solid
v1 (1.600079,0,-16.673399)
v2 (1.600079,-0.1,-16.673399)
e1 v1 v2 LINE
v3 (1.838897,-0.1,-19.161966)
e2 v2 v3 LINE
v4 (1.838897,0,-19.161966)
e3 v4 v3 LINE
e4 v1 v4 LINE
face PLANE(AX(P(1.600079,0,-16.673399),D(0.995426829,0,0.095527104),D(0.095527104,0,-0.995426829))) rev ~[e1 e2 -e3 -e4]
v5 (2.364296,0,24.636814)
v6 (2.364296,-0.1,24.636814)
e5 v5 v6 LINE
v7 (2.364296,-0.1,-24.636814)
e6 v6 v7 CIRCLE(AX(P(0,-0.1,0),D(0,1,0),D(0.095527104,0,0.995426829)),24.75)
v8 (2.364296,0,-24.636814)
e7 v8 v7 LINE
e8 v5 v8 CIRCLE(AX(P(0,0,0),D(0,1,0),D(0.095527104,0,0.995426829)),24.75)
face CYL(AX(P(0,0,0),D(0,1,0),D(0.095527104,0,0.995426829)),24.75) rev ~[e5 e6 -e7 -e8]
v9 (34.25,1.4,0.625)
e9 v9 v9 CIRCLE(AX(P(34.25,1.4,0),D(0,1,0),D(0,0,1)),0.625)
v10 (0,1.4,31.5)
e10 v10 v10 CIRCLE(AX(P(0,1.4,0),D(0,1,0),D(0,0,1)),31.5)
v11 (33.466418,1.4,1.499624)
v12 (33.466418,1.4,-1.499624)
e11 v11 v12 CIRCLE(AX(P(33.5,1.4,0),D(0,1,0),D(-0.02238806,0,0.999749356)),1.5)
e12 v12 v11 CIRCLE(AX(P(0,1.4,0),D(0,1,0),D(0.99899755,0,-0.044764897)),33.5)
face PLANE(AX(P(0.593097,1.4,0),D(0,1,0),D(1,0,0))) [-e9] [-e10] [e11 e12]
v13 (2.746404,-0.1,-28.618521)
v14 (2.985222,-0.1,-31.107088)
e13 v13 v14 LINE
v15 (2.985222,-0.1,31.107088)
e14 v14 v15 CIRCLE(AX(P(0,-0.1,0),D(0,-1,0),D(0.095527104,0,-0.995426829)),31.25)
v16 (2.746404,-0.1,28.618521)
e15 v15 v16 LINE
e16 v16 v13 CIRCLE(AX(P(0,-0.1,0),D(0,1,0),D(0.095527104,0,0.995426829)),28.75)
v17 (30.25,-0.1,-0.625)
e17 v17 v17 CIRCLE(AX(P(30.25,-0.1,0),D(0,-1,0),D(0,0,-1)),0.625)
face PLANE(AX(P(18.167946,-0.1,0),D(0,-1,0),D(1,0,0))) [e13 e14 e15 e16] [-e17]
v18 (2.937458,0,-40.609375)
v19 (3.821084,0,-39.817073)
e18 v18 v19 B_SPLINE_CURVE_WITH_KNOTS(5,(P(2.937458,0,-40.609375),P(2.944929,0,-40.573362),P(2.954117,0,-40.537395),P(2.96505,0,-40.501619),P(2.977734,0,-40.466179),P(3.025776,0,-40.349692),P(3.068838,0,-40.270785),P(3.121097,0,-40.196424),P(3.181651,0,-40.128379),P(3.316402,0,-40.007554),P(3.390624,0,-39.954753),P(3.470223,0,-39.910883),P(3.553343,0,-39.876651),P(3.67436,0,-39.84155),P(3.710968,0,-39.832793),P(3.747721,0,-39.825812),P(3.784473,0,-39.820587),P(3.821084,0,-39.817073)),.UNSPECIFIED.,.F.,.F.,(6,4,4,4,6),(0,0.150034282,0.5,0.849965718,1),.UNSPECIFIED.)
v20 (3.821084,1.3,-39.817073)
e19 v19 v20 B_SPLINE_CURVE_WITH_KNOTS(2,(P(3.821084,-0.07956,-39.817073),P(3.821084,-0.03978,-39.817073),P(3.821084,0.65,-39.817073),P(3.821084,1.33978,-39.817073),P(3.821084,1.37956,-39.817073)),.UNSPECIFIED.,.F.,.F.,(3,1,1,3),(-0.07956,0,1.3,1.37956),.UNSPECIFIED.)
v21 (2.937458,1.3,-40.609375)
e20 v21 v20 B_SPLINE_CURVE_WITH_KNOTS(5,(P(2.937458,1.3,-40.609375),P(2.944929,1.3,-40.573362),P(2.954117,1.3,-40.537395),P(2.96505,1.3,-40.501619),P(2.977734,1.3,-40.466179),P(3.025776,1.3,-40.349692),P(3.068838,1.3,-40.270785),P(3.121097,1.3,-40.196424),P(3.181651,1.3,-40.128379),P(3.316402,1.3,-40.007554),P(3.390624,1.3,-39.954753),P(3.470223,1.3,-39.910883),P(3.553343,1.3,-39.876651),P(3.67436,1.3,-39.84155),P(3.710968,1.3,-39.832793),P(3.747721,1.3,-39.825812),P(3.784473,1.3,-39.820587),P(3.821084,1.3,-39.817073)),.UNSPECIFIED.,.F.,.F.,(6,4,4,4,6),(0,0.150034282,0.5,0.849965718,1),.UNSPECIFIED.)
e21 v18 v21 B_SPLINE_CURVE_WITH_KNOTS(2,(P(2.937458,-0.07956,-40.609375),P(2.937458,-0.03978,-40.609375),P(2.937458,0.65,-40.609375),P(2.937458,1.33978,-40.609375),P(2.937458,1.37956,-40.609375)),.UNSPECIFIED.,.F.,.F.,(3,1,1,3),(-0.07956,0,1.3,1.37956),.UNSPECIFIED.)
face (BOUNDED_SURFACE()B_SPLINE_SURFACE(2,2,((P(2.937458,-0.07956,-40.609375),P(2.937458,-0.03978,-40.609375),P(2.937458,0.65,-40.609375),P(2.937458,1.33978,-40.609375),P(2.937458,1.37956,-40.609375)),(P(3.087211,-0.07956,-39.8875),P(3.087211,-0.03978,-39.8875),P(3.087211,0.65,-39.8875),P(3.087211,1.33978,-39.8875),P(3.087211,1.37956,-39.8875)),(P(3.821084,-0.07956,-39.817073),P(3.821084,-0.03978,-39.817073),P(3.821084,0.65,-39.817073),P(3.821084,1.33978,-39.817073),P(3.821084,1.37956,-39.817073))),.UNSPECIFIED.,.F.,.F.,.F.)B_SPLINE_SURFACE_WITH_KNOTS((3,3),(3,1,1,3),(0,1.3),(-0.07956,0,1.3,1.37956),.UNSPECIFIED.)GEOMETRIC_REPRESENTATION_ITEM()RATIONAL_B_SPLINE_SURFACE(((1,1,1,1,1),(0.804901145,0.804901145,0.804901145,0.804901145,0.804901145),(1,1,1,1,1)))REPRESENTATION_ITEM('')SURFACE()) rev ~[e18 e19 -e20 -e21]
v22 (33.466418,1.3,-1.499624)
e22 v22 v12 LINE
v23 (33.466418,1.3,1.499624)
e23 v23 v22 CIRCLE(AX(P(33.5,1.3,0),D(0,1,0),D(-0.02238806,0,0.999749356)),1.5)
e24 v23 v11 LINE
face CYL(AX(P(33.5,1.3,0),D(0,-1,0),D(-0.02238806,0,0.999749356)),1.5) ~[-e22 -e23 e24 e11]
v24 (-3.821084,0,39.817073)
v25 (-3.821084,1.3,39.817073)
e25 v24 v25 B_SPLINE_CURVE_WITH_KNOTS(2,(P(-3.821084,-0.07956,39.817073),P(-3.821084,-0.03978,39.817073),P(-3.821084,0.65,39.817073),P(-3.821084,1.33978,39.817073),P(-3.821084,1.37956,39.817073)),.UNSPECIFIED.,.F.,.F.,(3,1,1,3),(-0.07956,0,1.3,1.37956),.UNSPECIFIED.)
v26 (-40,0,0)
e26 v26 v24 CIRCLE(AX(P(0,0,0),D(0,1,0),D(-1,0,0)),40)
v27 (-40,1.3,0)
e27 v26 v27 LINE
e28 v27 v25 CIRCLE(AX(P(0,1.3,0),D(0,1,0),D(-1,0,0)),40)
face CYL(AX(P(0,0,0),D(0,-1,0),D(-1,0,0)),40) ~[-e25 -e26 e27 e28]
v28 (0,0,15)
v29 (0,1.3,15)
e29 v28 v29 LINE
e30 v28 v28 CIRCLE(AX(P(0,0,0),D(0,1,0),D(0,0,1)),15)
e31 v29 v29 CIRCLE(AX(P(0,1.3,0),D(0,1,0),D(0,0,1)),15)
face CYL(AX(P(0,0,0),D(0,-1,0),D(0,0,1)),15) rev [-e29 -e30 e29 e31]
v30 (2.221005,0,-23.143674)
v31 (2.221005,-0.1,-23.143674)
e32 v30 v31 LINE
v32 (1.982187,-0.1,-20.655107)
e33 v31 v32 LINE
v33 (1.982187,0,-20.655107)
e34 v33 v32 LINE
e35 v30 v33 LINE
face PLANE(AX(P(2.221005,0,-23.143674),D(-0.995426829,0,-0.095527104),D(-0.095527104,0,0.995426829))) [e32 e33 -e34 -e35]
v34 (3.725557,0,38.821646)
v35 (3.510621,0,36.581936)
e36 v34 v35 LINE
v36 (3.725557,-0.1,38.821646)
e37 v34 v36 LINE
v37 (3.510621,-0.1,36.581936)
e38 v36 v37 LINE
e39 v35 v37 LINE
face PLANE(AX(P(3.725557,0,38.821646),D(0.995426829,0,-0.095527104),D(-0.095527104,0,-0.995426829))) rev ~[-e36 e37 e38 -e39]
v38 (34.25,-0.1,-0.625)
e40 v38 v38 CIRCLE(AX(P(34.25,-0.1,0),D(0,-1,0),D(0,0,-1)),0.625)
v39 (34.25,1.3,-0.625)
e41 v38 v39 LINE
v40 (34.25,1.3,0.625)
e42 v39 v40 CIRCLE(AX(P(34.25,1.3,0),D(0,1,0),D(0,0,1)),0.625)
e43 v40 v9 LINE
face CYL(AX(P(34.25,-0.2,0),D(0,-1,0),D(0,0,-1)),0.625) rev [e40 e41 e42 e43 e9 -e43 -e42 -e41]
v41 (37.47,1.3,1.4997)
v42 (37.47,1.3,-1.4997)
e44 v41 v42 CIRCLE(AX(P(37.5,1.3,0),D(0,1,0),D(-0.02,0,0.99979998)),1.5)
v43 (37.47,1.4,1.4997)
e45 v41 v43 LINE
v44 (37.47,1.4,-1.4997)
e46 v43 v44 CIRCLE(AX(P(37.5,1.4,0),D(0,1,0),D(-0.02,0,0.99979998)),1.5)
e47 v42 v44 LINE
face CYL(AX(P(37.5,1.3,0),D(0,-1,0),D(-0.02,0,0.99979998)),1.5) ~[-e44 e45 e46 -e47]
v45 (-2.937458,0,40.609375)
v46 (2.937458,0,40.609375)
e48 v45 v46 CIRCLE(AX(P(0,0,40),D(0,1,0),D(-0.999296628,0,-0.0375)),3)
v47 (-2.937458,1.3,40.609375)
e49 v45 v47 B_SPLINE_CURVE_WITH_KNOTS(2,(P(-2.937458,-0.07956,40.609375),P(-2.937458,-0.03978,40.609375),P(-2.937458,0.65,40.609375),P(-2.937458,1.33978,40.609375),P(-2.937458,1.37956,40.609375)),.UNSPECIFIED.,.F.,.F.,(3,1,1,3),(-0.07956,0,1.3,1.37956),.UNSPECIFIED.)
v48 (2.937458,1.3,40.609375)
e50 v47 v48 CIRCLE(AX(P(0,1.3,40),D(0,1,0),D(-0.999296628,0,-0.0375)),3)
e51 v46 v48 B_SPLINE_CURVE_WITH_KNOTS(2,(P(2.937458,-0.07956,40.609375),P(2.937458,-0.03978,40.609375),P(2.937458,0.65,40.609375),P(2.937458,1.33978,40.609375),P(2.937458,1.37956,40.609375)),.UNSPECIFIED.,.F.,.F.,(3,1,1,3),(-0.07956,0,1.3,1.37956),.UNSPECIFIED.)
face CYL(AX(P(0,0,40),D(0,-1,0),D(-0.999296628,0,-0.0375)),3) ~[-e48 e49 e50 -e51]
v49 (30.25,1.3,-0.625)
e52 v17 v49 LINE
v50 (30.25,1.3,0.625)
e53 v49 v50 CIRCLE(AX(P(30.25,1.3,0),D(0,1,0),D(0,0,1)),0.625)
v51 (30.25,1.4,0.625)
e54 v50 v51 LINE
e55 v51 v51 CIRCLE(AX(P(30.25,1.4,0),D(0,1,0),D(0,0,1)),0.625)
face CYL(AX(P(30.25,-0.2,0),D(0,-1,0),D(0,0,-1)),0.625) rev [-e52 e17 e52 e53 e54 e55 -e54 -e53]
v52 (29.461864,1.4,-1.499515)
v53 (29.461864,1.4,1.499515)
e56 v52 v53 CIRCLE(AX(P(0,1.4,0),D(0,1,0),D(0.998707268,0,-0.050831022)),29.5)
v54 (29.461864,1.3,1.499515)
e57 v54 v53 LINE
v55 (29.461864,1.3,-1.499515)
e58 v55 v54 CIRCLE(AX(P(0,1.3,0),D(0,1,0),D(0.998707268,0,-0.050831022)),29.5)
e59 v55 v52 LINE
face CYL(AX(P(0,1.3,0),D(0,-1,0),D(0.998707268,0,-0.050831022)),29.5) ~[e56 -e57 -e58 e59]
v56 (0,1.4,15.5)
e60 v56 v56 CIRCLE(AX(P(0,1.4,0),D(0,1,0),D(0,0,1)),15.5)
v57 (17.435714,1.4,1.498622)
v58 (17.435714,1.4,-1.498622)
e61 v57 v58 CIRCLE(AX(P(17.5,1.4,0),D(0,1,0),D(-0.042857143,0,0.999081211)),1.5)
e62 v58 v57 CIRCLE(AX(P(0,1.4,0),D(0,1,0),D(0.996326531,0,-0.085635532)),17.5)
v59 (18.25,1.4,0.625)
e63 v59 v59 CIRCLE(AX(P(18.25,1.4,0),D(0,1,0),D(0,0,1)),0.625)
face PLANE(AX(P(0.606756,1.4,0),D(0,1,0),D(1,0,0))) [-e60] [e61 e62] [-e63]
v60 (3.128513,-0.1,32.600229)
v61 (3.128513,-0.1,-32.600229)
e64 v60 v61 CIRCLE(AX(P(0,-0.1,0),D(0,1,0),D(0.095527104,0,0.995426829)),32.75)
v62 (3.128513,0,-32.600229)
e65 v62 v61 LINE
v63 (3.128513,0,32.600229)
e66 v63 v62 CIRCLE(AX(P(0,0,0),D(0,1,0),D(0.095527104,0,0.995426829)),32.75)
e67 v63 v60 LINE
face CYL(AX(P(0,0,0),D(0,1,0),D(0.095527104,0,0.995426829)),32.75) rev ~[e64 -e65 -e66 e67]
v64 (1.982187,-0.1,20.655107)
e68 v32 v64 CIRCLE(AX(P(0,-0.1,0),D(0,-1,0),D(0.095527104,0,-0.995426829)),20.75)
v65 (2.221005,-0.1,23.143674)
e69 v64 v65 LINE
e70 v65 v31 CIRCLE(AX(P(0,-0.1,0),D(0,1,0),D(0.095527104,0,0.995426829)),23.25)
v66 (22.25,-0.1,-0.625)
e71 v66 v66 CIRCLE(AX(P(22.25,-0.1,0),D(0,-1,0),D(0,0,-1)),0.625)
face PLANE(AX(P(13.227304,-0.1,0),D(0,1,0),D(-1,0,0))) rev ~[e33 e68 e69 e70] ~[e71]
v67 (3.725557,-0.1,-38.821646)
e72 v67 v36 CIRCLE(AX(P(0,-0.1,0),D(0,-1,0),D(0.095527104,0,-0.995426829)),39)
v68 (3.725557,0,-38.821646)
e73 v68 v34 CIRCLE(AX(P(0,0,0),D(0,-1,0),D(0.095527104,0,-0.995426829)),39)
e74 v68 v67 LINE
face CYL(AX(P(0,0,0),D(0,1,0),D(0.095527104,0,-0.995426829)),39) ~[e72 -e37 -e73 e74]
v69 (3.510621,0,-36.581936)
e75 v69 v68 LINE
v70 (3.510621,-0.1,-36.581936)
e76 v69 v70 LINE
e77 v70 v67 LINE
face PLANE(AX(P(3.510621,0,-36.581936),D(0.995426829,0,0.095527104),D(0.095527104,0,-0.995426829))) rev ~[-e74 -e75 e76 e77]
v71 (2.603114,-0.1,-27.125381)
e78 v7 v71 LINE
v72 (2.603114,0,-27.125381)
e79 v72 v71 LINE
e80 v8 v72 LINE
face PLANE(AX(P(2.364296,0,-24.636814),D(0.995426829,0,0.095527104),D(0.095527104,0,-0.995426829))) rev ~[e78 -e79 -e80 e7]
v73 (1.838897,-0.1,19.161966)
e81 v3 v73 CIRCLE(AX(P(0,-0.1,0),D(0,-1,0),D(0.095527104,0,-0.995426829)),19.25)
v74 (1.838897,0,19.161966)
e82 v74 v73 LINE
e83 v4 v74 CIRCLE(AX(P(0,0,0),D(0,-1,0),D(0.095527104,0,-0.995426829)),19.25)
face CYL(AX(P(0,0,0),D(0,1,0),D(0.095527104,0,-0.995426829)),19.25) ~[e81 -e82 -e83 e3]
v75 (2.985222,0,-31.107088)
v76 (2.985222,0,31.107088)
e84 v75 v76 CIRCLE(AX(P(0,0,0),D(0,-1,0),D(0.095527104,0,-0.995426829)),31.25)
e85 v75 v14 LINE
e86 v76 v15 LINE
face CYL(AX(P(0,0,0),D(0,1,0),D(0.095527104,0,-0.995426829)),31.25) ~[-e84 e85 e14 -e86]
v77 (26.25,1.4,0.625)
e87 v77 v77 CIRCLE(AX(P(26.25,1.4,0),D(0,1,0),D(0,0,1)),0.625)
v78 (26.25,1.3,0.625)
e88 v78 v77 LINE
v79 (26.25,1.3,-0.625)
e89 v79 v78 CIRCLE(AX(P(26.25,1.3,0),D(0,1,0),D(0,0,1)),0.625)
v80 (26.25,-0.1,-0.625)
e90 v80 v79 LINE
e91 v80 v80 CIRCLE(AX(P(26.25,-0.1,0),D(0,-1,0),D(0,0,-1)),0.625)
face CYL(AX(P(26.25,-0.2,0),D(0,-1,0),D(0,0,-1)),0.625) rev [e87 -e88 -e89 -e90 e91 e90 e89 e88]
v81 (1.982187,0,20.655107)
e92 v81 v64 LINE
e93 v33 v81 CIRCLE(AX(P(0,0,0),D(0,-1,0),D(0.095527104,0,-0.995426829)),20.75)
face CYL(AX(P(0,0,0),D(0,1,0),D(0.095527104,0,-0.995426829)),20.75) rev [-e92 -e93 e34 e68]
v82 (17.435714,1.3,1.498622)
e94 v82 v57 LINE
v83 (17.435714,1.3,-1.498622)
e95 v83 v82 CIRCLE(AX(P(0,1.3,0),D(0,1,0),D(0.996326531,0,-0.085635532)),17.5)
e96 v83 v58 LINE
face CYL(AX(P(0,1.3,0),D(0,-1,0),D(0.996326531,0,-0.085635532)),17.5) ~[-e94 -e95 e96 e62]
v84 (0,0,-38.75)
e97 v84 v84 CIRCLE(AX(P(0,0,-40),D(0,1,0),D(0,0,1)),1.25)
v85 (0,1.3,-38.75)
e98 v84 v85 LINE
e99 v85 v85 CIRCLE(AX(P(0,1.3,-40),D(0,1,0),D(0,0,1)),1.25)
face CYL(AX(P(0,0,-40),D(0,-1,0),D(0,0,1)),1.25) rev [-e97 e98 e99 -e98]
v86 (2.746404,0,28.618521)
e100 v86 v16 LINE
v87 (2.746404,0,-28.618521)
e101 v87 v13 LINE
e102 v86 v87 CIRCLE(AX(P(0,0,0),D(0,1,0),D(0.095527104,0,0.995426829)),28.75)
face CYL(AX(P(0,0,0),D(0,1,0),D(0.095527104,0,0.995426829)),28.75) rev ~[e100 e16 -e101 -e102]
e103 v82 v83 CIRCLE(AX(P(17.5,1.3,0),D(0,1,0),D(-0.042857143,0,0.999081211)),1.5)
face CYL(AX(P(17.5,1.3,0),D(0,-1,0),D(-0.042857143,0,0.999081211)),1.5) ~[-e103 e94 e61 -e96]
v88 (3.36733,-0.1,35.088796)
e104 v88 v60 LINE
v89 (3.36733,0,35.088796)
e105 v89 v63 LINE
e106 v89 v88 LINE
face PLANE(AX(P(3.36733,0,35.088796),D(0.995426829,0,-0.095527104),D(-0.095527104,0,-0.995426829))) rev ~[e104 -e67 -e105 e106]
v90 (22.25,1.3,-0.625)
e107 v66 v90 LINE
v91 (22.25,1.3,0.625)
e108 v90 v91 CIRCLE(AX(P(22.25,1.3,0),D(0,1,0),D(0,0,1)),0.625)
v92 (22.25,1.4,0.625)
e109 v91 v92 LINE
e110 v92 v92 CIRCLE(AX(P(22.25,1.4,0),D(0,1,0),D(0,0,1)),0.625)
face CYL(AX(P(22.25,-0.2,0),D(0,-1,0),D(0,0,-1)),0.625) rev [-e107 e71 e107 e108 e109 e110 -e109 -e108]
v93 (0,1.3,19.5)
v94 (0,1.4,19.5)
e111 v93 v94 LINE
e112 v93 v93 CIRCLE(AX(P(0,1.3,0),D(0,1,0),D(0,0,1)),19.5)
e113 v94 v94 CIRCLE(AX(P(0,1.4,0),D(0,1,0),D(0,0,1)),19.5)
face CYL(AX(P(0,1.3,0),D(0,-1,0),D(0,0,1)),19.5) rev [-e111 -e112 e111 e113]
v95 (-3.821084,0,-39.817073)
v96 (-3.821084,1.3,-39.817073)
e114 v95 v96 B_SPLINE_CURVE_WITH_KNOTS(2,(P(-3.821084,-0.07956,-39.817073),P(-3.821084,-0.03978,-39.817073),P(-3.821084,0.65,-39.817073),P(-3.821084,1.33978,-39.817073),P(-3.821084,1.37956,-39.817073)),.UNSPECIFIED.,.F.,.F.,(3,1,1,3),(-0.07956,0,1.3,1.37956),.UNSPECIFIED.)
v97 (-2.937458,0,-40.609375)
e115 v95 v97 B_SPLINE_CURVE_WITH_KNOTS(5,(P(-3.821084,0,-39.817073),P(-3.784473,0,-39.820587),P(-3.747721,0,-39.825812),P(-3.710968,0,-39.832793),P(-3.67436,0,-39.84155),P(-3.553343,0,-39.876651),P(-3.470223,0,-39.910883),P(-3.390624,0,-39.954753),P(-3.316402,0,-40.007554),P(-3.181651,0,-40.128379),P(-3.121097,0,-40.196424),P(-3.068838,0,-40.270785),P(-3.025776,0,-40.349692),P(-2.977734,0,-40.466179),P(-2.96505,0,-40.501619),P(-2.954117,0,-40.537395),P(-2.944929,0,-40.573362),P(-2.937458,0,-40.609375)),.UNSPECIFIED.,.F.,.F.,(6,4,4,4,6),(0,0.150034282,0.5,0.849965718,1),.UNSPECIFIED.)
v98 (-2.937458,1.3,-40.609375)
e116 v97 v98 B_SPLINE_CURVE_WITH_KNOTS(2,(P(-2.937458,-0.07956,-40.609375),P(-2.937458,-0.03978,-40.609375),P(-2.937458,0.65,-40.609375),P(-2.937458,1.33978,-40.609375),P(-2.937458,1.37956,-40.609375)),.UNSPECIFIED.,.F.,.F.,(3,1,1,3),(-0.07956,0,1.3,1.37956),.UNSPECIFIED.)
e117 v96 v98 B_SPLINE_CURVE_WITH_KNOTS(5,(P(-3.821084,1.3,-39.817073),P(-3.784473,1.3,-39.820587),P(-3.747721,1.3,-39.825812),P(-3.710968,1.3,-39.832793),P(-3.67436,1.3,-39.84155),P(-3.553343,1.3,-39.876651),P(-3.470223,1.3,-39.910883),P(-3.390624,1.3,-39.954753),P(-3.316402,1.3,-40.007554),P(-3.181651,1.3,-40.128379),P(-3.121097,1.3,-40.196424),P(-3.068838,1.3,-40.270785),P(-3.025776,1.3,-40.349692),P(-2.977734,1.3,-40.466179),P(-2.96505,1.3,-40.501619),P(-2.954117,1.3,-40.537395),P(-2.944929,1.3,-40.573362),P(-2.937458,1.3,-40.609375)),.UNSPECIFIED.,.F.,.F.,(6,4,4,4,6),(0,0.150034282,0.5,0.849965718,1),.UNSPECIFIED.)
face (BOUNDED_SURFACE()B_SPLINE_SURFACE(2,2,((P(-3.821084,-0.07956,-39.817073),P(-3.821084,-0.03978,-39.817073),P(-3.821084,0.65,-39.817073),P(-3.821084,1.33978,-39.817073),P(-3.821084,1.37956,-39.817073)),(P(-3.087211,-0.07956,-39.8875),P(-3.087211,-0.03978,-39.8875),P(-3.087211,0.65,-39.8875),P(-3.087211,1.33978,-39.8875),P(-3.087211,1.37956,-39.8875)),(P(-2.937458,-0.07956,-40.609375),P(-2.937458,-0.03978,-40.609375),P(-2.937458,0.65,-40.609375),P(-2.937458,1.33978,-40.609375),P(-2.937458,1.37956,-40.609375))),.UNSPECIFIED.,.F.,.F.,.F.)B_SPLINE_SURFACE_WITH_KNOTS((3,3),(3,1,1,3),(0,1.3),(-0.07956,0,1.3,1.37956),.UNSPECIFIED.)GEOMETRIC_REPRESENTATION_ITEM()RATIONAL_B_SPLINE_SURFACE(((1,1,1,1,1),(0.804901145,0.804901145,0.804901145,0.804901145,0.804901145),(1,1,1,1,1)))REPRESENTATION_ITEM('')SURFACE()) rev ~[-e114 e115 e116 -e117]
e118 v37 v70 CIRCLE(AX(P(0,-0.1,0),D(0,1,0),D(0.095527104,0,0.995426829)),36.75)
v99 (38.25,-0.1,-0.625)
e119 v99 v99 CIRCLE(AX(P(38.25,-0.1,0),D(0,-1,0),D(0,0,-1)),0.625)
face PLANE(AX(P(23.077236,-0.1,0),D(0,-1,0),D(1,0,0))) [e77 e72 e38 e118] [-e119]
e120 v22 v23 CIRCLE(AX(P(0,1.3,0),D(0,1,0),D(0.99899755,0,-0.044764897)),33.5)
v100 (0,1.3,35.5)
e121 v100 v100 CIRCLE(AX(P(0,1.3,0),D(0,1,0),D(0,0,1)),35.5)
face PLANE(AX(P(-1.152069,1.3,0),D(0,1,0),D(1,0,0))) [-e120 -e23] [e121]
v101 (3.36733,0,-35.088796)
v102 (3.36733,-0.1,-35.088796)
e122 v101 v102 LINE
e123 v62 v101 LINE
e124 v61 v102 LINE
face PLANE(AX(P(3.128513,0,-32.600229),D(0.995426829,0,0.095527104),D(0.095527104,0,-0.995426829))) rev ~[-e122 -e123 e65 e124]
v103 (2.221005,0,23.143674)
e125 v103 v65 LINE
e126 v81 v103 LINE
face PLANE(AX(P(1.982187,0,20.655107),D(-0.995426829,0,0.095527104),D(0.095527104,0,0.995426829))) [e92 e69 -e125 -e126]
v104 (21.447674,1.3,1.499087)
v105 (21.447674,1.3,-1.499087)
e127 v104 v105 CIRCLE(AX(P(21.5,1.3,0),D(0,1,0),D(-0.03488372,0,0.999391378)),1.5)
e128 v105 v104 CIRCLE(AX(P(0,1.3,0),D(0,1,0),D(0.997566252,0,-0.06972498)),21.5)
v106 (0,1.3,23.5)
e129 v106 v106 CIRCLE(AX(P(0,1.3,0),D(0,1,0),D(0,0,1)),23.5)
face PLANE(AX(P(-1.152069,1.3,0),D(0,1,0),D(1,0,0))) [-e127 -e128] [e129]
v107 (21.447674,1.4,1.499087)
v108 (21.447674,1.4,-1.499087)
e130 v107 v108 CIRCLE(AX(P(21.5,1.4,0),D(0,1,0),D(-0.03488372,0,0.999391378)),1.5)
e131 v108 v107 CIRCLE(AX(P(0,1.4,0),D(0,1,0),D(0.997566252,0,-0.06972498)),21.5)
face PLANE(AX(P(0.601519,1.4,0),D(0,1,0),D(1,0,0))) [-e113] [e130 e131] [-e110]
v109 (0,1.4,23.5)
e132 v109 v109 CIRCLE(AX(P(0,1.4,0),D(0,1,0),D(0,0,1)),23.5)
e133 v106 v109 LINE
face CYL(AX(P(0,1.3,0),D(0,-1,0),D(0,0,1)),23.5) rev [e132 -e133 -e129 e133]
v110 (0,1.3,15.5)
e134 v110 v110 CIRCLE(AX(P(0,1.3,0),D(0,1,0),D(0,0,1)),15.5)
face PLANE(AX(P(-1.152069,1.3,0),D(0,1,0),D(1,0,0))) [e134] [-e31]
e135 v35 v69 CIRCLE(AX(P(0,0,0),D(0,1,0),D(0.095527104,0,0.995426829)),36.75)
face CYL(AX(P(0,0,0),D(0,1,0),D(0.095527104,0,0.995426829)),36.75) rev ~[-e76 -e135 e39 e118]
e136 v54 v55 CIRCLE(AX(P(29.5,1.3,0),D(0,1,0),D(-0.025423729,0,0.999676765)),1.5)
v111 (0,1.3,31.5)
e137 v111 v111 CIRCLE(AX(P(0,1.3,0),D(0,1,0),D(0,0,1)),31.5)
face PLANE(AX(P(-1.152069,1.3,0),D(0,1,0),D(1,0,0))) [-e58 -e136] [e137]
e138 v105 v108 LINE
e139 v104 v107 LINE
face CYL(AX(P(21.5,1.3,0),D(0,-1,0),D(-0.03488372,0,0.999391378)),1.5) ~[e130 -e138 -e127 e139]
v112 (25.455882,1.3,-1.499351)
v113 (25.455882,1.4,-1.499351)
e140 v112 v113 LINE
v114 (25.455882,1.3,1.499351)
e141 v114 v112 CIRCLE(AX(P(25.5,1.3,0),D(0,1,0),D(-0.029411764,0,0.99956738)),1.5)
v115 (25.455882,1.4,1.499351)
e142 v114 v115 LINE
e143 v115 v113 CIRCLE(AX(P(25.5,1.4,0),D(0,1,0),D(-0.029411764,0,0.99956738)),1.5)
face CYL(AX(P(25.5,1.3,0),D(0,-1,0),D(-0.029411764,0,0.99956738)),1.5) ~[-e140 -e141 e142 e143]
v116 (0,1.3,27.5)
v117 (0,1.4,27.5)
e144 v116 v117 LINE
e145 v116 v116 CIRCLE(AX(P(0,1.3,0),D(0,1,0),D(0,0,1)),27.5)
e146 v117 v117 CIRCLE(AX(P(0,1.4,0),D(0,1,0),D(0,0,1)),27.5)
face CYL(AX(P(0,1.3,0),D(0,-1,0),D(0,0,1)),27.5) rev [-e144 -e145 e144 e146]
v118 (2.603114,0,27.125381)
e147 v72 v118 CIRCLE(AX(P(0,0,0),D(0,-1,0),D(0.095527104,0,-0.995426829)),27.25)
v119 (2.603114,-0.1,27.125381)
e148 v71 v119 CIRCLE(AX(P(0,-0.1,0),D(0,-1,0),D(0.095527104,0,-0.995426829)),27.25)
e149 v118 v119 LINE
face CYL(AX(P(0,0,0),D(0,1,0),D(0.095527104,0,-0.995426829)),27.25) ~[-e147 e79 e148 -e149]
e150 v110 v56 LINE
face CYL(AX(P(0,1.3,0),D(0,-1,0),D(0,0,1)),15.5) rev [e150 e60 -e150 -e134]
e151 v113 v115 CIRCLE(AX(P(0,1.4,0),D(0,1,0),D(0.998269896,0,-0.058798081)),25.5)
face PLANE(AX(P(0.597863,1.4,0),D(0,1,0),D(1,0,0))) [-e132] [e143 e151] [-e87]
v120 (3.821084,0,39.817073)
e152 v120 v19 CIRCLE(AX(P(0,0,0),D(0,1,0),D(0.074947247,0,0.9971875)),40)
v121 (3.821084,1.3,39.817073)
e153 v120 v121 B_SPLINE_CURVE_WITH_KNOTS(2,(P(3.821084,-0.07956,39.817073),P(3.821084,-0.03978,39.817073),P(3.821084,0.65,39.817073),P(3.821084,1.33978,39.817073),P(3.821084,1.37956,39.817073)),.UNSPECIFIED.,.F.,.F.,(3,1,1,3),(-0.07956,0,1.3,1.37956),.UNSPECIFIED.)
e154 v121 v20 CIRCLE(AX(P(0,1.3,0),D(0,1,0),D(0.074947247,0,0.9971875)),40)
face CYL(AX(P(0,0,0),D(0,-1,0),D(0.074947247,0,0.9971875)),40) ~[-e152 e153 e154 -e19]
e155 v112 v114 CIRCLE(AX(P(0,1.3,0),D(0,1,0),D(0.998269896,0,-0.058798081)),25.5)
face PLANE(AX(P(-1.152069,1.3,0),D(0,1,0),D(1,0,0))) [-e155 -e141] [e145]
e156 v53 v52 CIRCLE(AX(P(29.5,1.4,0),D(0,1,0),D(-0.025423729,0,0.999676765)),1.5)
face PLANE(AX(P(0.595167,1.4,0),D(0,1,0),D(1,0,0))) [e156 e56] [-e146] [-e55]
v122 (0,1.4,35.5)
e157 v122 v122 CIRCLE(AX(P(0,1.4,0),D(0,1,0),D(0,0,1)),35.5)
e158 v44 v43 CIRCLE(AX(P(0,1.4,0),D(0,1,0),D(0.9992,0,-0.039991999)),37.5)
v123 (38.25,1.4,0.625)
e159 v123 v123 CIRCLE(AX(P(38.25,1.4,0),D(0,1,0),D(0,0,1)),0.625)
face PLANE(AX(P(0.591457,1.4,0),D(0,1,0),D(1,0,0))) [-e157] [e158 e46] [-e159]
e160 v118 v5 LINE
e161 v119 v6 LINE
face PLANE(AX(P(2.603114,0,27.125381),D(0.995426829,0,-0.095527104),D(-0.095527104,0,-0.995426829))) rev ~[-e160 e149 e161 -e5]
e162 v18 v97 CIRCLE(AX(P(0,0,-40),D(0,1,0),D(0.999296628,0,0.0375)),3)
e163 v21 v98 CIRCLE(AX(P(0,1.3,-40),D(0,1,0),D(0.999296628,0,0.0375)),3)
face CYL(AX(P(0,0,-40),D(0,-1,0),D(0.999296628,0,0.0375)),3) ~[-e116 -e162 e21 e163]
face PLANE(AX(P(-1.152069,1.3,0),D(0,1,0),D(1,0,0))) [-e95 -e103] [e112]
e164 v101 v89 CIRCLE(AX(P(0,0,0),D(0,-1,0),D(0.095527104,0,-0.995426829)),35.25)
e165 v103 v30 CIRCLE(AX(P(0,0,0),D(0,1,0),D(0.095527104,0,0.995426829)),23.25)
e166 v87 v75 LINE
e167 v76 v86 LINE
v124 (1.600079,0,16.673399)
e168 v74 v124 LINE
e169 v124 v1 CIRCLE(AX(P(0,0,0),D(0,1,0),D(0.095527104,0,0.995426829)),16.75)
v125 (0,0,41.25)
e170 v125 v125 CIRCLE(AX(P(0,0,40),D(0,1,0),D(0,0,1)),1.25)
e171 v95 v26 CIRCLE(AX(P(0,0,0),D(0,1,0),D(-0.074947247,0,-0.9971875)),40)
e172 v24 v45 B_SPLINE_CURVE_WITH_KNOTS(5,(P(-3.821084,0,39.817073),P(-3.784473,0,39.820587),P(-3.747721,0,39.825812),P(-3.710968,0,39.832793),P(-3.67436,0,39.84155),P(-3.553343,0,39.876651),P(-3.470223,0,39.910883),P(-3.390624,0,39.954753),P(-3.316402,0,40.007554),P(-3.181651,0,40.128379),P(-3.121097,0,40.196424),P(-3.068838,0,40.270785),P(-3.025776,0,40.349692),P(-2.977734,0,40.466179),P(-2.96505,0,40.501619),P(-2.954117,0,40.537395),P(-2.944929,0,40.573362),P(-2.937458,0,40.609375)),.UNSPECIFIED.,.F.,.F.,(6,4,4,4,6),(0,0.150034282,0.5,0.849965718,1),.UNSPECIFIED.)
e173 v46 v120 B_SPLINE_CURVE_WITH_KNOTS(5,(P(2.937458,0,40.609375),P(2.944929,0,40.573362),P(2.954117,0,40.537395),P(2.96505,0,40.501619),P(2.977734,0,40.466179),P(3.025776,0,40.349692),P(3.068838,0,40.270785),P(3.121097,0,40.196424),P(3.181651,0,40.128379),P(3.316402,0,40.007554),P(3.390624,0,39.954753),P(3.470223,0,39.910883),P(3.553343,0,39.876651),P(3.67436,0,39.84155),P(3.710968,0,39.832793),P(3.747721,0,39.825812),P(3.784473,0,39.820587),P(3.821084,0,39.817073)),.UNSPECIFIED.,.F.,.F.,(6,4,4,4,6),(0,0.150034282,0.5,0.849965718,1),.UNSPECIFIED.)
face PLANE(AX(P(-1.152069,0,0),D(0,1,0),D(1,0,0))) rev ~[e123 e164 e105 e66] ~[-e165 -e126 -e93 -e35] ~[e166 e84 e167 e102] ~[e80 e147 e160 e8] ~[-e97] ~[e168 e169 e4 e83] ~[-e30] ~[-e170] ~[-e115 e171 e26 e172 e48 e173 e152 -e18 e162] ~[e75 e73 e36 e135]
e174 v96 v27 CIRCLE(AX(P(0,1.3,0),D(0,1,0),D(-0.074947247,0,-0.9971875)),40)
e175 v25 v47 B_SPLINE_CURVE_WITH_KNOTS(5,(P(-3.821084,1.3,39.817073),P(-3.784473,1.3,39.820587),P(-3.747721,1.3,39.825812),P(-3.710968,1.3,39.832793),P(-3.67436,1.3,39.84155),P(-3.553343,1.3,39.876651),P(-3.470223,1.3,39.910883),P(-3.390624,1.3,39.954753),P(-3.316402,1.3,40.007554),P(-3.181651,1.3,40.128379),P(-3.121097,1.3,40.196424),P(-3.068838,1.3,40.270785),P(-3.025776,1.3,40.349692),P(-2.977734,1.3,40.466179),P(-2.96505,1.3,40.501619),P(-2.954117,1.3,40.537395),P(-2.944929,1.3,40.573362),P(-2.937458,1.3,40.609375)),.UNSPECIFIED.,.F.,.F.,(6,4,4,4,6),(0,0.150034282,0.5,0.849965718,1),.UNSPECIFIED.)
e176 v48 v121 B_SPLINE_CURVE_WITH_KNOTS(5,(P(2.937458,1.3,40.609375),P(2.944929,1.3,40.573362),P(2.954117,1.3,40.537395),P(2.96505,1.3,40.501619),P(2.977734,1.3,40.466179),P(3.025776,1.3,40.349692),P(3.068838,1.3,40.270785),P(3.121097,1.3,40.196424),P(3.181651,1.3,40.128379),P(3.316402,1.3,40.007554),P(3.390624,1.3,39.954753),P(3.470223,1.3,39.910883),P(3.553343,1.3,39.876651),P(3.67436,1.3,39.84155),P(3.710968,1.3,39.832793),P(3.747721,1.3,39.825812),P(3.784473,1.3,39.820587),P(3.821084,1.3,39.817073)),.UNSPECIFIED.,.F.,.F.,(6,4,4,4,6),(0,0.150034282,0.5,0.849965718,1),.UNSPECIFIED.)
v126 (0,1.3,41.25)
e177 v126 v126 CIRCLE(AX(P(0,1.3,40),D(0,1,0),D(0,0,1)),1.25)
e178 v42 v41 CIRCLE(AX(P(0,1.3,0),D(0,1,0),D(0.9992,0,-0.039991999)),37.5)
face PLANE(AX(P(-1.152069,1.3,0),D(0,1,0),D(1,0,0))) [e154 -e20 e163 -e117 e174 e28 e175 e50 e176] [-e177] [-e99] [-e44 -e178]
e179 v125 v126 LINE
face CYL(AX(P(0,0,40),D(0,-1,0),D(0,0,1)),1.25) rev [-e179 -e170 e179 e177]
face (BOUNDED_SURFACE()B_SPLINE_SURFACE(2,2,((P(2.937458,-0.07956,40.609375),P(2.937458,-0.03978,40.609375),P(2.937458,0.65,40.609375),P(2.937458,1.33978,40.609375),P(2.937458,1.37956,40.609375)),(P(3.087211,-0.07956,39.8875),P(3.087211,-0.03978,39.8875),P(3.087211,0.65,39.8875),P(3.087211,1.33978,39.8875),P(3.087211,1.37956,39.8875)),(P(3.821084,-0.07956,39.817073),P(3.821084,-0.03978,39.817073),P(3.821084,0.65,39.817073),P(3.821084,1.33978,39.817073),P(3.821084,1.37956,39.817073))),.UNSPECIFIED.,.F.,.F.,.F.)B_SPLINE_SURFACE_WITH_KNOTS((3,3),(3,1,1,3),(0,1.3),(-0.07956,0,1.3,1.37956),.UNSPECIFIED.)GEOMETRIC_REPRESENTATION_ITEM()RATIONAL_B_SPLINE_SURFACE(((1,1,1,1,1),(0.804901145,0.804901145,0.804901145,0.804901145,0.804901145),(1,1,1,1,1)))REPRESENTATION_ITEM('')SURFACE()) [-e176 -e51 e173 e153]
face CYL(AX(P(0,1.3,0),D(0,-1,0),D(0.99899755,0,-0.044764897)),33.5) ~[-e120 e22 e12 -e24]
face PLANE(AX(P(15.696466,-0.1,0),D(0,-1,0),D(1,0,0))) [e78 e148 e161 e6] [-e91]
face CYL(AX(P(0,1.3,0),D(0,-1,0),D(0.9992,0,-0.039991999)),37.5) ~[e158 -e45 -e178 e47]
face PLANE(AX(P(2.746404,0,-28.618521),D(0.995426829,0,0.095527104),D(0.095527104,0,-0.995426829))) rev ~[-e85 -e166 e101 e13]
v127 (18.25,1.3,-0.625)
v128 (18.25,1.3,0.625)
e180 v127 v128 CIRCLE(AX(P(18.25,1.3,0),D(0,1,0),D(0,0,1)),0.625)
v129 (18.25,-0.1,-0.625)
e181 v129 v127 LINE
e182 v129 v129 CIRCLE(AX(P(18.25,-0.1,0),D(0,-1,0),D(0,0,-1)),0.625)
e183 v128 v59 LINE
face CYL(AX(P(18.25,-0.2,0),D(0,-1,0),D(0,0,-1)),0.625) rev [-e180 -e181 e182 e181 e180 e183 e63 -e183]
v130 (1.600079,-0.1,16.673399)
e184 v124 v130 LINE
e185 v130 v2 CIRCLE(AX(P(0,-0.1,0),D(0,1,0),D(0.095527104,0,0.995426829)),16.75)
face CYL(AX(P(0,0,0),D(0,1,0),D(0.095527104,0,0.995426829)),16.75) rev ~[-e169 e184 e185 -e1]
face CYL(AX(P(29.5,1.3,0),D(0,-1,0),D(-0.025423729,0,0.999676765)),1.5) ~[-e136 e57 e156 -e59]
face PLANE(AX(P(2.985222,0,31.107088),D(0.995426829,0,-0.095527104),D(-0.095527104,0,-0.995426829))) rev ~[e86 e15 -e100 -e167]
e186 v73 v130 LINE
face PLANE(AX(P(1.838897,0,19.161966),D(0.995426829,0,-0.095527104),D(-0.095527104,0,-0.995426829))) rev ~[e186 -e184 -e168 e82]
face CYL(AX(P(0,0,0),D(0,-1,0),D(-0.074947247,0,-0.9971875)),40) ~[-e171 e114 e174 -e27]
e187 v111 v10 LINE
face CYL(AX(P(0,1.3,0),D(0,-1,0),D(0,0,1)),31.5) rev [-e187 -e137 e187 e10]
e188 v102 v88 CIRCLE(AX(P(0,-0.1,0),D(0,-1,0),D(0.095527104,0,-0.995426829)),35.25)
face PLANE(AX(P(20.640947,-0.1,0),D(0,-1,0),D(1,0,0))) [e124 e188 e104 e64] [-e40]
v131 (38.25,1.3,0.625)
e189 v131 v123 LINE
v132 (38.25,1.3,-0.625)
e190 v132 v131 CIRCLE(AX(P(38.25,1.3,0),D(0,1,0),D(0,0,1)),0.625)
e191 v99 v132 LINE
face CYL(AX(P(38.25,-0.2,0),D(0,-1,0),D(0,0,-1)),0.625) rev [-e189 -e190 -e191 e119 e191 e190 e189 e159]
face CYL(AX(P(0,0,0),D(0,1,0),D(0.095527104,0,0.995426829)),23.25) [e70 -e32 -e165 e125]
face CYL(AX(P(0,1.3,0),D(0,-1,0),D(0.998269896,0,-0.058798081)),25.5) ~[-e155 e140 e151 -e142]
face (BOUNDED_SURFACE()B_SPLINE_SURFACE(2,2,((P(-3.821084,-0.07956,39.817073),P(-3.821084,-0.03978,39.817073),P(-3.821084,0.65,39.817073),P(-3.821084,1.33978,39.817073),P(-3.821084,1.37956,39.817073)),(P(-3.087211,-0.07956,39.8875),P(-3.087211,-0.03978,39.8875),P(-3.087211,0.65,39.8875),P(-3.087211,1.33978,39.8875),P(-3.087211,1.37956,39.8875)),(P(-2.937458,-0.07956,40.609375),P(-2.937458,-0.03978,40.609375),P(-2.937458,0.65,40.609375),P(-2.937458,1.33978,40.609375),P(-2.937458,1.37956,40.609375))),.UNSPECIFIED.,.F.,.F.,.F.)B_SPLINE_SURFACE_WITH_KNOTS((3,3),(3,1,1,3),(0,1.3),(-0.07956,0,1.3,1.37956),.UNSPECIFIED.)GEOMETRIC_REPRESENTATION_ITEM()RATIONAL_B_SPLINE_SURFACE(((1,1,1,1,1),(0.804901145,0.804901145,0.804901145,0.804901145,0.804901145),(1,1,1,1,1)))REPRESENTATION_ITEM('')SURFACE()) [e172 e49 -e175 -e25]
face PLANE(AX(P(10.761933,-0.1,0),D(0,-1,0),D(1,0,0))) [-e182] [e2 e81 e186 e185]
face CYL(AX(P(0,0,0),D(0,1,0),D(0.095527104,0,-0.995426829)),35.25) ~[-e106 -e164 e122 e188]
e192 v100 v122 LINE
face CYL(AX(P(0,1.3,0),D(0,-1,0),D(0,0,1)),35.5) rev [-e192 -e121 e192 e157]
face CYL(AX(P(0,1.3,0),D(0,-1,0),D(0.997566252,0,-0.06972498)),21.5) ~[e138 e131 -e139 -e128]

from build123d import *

# Parameters (mm, degrees)
SKETCH1_R            = 15
SKETCH1_R_2          = 1.25
BOSS_EXTRUDE1_DEPTH  = 1.3
FILLET1_R            = 1
SKETCH2_R            = 35.5
SKETCH2_R_2          = 0.625
BOSS_EXTRUDE2_DEPTH  = 0.1
SKETCH4_R            = 0.625
SKETCH4_R_2          = 31.5
BOSS_EXTRUDE4_DEPTH  = 0.1
SKETCH5_R            = 27.5
SKETCH5_R_2          = 0.625
BOSS_EXTRUDE5_DEPTH  = 0.1
SKETCH6_R            = 23.5
SKETCH6_R_2          = 0.625
BOSS_EXTRUDE6_DEPTH  = 0.1
SKETCH7_R            = 19.5
SKETCH7_R_2          = 0.625
BOSS_EXTRUDE7_DEPTH  = 0.1
SKETCH8_R            = 15.5
SKETCH8_R_2          = 0.625
BOSS_EXTRUDE8_DEPTH  = 0.1
BOSS_EXTRUDE9_DEPTH  = 0.1
BOSS_EXTRUDE10_DEPTH = 0.1
BOSS_EXTRUDE11_DEPTH = 0.1
BOSS_EXTRUDE12_DEPTH = 0.1
BOSS_EXTRUDE13_DEPTH = 0.1
BOSS_EXTRUDE14_DEPTH = 0.1
CUT_EXTRUDE1_START   = -1.5
SKETCH10_R           = 0.625
CUT_EXTRUDE1_DEPTH   = 1.5


with BuildPart() as part:
    # Sketch1 → Boss-Extrude1 (new body)
    with BuildSketch(Plane(origin=(0, 0, 0), x_dir=(1, 0, 0), z_dir=(0, 1, 0))):
        with BuildLine():
            ThreePointArc((-40, 0), (-29.325037044, -27.203716701), (-2.997889883, -39.8875))
            ThreePointArc((-2.997889883, -39.8875), (0, -43), (2.997889883, -39.8875))
            ThreePointArc((2.997889883, -39.8875), (40, 0), (2.997889883, 39.8875))
            ThreePointArc((2.997889883, 39.8875), (0, 43), (-2.997889883, 39.8875))
            ThreePointArc((-2.997889883, 39.8875), (-29.325037044, 27.203716701), (-40, 0))
        make_face()
        with Locations(Location((0, 0, 0), (0, 0, 270))):
            Circle(SKETCH1_R, mode=Mode.SUBTRACT)
        with Locations(Location((0, 40, 0), (0, 0, 270))):
            Circle(SKETCH1_R_2, mode=Mode.SUBTRACT)
        with Locations(Location((0, -40, 0), (0, 0, 270))):
            Circle(SKETCH1_R_2, mode=Mode.SUBTRACT)
    extrude(amount=BOSS_EXTRUDE1_DEPTH)

    # Fillet1
    fillet1_edges = [part.edges().sort_by_distance(p)[0] for p in [
        (-2.997889883, 0.65, -39.8875),
        (2.997889883, 0.65, -39.8875),
        (2.997889883, 0.65, 39.8875),
        (-2.997889883, 0.65, 39.8875),
    ]]
    fillet(fillet1_edges, radius=FILLET1_R)

    # Sketch2 → Boss-Extrude2 (add)
    with BuildSketch(Plane(origin=(0, 1.3, 0), x_dir=(1, 0, 0), z_dir=(0, 1, 0))):
        with BuildLine():
            ThreePointArc((37.47, 1.49969997), (-37.5, 0), (37.47, -1.49969997))
            ThreePointArc((37.47, -1.49969997), (39, 0), (37.47, 1.49969997))
        make_face()
        with Locations(Location((0, 0, 0), (0, 0, 270))):
            Circle(SKETCH2_R, mode=Mode.SUBTRACT)
        with Locations(Location((38.25, 0, 0), (0, 0, 270))):
            Circle(SKETCH2_R_2, mode=Mode.SUBTRACT)
    extrude(amount=BOSS_EXTRUDE2_DEPTH)

    # Sketch4 → Boss-Extrude4 (add)
    with BuildSketch(Plane(origin=(0, 1.3, 0), x_dir=(1, 0, 0), z_dir=(0, 1, 0))):
        with BuildLine():
            ThreePointArc((33.46641791, -1.499624034), (35, 0), (33.46641791, 1.499624034))
            ThreePointArc((33.46641791, 1.499624034), (-33.5, 0), (33.46641791, -1.499624034))
        make_face()
        with Locations(Location((34.25, 0, 0), (0, 0, 270))):
            Circle(SKETCH4_R, mode=Mode.SUBTRACT)
        with Locations(Location((0, 0, 0), (0, 0, 270))):
            Circle(SKETCH4_R_2, mode=Mode.SUBTRACT)
    extrude(amount=BOSS_EXTRUDE4_DEPTH)

    # Sketch5 → Boss-Extrude5 (add)
    with BuildSketch(Plane(origin=(0, 1.3, 0), x_dir=(1, 0, 0), z_dir=(0, 1, 0))):
        with BuildLine():
            ThreePointArc((29.461864407, 1.499515147), (-29.5, 0), (29.461864407, -1.499515147))
            ThreePointArc((29.461864407, -1.499515147), (31, 0), (29.461864407, 1.499515147))
        make_face()
        with Locations(Location((0, 0, 0), (0, 0, 270))):
            Circle(SKETCH5_R, mode=Mode.SUBTRACT)
        with Locations(Location((30.25, 0, 0), (0, 0, 270))):
            Circle(SKETCH5_R_2, mode=Mode.SUBTRACT)
    extrude(amount=BOSS_EXTRUDE5_DEPTH)

    # Sketch6 → Boss-Extrude6 (add)
    with BuildSketch(Plane(origin=(0, 1.3, 0), x_dir=(1, 0, 0), z_dir=(0, 1, 0))):
        with BuildLine():
            ThreePointArc((25.455882353, 1.499351071), (-25.5, 0), (25.455882353, -1.499351071))
            ThreePointArc((25.455882353, -1.499351071), (27, 0), (25.455882353, 1.499351071))
        make_face()
        with Locations(Location((0, 0, 0), (0, 0, 270))):
            Circle(SKETCH6_R, mode=Mode.SUBTRACT)
        with Locations(Location((26.25, 0, 0), (0, 0, 270))):
            Circle(SKETCH6_R_2, mode=Mode.SUBTRACT)
    extrude(amount=BOSS_EXTRUDE6_DEPTH)

    # Sketch7 → Boss-Extrude7 (add)
    with BuildSketch(Plane(origin=(0, 1.3, 0), x_dir=(1, 0, 0), z_dir=(0, 1, 0))):
        with BuildLine():
            ThreePointArc((21.447674419, 1.499087067), (-21.5, 0), (21.447674419, -1.499087067))
            ThreePointArc((21.447674419, -1.499087067), (23, 0), (21.447674419, 1.499087067))
        make_face()
        with Locations(Location((0, 0, 0), (0, 0, 270))):
            Circle(SKETCH7_R, mode=Mode.SUBTRACT)
        with Locations(Location((22.25, 0, 0), (0, 0, 270))):
            Circle(SKETCH7_R_2, mode=Mode.SUBTRACT)
    extrude(amount=BOSS_EXTRUDE7_DEPTH)

    # Sketch8 → Boss-Extrude8 (add)
    with BuildSketch(Plane(origin=(0, 1.3, 0), x_dir=(1, 0, 0), z_dir=(0, 1, 0))):
        with BuildLine():
            ThreePointArc((17.435714286, 1.498621816), (-17.5, 0), (17.435714286, -1.498621816))
            ThreePointArc((17.435714286, -1.498621816), (19, 0), (17.435714286, 1.498621816))
        make_face()
        with Locations(Location((0, 0, 0), (0, 0, 270))):
            Circle(SKETCH8_R, mode=Mode.SUBTRACT)
        with Locations(Location((18.25, 0, 0), (0, 0, 270))):
            Circle(SKETCH8_R_2, mode=Mode.SUBTRACT)
    extrude(amount=BOSS_EXTRUDE8_DEPTH)

    # Sketch12 → Boss-Extrude9 (add)
    with BuildSketch(Plane.XZ):
        with BuildLine():
            Line((3.725557051, 38.821646341), (3.510621067, 36.581935976))
            ThreePointArc((3.510621067, 36.581935976), (36.75, 0), (3.510621067, -36.581935976))
            Line((3.510621067, -36.581935976), (3.725557051, -38.821646341))
            ThreePointArc((3.725557051, -38.821646341), (39, 0), (3.725557051, 38.821646341))
        make_face()
    extrude(amount=BOSS_EXTRUDE9_DEPTH)

    # Sketch13 → Boss-Extrude10 (add)
    with BuildSketch(Plane.XZ):
        with BuildLine():
            Line((3.367330411, 35.088795732), (3.128512652, 32.600228659))
            ThreePointArc((3.128512652, 32.600228659), (32.75, 0), (3.128512652, -32.600228659))
            Line((3.128512652, -32.600228659), (3.367330411, -35.088795732))
            ThreePointArc((3.367330411, -35.088795732), (35.25, 0), (3.367330411, 35.088795732))
        make_face()
    extrude(amount=BOSS_EXTRUDE10_DEPTH)

    # Sketch14 → Boss-Extrude11 (add)
    with BuildSketch(Plane.XZ):
        with BuildLine():
            Line((2.985221996, 31.107088415), (2.746404236, 28.618521341))
            ThreePointArc((2.746404236, 28.618521341), (28.75, 0), (2.746404236, -28.618521341))
            Line((2.746404236, -28.618521341), (2.985221996, -31.107088415))
            ThreePointArc((2.985221996, -31.107088415), (31.25, 0), (2.985221996, 31.107088415))
        make_face()
    extrude(amount=BOSS_EXTRUDE11_DEPTH)

    # Sketch15 → Boss-Extrude12 (add)
    with BuildSketch(Plane.XZ):
        with BuildLine():
            Line((2.60311358, 27.125381098), (2.364295821, 24.636814024))
            ThreePointArc((2.364295821, 24.636814024), (24.75, 0), (2.364295821, -24.636814024))
            Line((2.364295821, -24.636814024), (2.60311358, -27.125381098))
            ThreePointArc((2.60311358, -27.125381098), (27.25, 0), (2.60311358, 27.125381098))
        make_face()
    extrude(amount=BOSS_EXTRUDE12_DEPTH)

    # Sketch16 → Boss-Extrude13 (add)
    with BuildSketch(Plane.XZ):
        with BuildLine():
            Line((1.982187405, 20.655106707), (2.221005165, 23.14367378))
            ThreePointArc((2.221005165, 23.14367378), (23.25, 0), (2.221005165, -23.14367378))
            Line((2.221005165, -23.14367378), (1.982187405, -20.655106707))
            ThreePointArc((1.982187405, -20.655106707), (20.75, 0), (1.982187405, 20.655106707))
        make_face()
    extrude(amount=BOSS_EXTRUDE13_DEPTH)

    # Sketch17 → Boss-Extrude14 (add)
    with BuildSketch(Plane.XZ):
        with BuildLine():
            Line((1.838896749, 19.161966463), (1.60007899, 16.67339939))
            ThreePointArc((1.60007899, 16.67339939), (16.75, 0), (1.60007899, -16.67339939))
            Line((1.60007899, -16.67339939), (1.838896749, -19.161966463))
            ThreePointArc((1.838896749, -19.161966463), (19.25, 0), (1.838896749, 19.161966463))
        make_face()
    extrude(amount=BOSS_EXTRUDE14_DEPTH)

    # Sketch10 → Cut-Extrude1 (cut)
    with BuildSketch(Plane(origin=(0, 1.3, 0), x_dir=(1, 0, 0), z_dir=(0, 1, 0)).offset(CUT_EXTRUDE1_START)):
        with Locations(Location((38.25, 0, 0), (0, 0, 90))):
            Circle(SKETCH10_R)
        with Locations(Location((34.25, 0, 0), (0, 0, 90))):
            Circle(SKETCH10_R)
        with Locations(Location((30.25, 0, 0), (0, 0, 90))):
            Circle(SKETCH10_R)
        with Locations(Location((26.25, 0, 0), (0, 0, 90))):
            Circle(SKETCH10_R)
        with Locations(Location((22.25, 0, 0), (0, 0, 90))):
            Circle(SKETCH10_R)
        with Locations(Location((18.25, 0, 0), (0, 0, 90))):
            Circle(SKETCH10_R)
    extrude(amount=CUT_EXTRUDE1_DEPTH, mode=Mode.SUBTRACT)


solid = part.part
